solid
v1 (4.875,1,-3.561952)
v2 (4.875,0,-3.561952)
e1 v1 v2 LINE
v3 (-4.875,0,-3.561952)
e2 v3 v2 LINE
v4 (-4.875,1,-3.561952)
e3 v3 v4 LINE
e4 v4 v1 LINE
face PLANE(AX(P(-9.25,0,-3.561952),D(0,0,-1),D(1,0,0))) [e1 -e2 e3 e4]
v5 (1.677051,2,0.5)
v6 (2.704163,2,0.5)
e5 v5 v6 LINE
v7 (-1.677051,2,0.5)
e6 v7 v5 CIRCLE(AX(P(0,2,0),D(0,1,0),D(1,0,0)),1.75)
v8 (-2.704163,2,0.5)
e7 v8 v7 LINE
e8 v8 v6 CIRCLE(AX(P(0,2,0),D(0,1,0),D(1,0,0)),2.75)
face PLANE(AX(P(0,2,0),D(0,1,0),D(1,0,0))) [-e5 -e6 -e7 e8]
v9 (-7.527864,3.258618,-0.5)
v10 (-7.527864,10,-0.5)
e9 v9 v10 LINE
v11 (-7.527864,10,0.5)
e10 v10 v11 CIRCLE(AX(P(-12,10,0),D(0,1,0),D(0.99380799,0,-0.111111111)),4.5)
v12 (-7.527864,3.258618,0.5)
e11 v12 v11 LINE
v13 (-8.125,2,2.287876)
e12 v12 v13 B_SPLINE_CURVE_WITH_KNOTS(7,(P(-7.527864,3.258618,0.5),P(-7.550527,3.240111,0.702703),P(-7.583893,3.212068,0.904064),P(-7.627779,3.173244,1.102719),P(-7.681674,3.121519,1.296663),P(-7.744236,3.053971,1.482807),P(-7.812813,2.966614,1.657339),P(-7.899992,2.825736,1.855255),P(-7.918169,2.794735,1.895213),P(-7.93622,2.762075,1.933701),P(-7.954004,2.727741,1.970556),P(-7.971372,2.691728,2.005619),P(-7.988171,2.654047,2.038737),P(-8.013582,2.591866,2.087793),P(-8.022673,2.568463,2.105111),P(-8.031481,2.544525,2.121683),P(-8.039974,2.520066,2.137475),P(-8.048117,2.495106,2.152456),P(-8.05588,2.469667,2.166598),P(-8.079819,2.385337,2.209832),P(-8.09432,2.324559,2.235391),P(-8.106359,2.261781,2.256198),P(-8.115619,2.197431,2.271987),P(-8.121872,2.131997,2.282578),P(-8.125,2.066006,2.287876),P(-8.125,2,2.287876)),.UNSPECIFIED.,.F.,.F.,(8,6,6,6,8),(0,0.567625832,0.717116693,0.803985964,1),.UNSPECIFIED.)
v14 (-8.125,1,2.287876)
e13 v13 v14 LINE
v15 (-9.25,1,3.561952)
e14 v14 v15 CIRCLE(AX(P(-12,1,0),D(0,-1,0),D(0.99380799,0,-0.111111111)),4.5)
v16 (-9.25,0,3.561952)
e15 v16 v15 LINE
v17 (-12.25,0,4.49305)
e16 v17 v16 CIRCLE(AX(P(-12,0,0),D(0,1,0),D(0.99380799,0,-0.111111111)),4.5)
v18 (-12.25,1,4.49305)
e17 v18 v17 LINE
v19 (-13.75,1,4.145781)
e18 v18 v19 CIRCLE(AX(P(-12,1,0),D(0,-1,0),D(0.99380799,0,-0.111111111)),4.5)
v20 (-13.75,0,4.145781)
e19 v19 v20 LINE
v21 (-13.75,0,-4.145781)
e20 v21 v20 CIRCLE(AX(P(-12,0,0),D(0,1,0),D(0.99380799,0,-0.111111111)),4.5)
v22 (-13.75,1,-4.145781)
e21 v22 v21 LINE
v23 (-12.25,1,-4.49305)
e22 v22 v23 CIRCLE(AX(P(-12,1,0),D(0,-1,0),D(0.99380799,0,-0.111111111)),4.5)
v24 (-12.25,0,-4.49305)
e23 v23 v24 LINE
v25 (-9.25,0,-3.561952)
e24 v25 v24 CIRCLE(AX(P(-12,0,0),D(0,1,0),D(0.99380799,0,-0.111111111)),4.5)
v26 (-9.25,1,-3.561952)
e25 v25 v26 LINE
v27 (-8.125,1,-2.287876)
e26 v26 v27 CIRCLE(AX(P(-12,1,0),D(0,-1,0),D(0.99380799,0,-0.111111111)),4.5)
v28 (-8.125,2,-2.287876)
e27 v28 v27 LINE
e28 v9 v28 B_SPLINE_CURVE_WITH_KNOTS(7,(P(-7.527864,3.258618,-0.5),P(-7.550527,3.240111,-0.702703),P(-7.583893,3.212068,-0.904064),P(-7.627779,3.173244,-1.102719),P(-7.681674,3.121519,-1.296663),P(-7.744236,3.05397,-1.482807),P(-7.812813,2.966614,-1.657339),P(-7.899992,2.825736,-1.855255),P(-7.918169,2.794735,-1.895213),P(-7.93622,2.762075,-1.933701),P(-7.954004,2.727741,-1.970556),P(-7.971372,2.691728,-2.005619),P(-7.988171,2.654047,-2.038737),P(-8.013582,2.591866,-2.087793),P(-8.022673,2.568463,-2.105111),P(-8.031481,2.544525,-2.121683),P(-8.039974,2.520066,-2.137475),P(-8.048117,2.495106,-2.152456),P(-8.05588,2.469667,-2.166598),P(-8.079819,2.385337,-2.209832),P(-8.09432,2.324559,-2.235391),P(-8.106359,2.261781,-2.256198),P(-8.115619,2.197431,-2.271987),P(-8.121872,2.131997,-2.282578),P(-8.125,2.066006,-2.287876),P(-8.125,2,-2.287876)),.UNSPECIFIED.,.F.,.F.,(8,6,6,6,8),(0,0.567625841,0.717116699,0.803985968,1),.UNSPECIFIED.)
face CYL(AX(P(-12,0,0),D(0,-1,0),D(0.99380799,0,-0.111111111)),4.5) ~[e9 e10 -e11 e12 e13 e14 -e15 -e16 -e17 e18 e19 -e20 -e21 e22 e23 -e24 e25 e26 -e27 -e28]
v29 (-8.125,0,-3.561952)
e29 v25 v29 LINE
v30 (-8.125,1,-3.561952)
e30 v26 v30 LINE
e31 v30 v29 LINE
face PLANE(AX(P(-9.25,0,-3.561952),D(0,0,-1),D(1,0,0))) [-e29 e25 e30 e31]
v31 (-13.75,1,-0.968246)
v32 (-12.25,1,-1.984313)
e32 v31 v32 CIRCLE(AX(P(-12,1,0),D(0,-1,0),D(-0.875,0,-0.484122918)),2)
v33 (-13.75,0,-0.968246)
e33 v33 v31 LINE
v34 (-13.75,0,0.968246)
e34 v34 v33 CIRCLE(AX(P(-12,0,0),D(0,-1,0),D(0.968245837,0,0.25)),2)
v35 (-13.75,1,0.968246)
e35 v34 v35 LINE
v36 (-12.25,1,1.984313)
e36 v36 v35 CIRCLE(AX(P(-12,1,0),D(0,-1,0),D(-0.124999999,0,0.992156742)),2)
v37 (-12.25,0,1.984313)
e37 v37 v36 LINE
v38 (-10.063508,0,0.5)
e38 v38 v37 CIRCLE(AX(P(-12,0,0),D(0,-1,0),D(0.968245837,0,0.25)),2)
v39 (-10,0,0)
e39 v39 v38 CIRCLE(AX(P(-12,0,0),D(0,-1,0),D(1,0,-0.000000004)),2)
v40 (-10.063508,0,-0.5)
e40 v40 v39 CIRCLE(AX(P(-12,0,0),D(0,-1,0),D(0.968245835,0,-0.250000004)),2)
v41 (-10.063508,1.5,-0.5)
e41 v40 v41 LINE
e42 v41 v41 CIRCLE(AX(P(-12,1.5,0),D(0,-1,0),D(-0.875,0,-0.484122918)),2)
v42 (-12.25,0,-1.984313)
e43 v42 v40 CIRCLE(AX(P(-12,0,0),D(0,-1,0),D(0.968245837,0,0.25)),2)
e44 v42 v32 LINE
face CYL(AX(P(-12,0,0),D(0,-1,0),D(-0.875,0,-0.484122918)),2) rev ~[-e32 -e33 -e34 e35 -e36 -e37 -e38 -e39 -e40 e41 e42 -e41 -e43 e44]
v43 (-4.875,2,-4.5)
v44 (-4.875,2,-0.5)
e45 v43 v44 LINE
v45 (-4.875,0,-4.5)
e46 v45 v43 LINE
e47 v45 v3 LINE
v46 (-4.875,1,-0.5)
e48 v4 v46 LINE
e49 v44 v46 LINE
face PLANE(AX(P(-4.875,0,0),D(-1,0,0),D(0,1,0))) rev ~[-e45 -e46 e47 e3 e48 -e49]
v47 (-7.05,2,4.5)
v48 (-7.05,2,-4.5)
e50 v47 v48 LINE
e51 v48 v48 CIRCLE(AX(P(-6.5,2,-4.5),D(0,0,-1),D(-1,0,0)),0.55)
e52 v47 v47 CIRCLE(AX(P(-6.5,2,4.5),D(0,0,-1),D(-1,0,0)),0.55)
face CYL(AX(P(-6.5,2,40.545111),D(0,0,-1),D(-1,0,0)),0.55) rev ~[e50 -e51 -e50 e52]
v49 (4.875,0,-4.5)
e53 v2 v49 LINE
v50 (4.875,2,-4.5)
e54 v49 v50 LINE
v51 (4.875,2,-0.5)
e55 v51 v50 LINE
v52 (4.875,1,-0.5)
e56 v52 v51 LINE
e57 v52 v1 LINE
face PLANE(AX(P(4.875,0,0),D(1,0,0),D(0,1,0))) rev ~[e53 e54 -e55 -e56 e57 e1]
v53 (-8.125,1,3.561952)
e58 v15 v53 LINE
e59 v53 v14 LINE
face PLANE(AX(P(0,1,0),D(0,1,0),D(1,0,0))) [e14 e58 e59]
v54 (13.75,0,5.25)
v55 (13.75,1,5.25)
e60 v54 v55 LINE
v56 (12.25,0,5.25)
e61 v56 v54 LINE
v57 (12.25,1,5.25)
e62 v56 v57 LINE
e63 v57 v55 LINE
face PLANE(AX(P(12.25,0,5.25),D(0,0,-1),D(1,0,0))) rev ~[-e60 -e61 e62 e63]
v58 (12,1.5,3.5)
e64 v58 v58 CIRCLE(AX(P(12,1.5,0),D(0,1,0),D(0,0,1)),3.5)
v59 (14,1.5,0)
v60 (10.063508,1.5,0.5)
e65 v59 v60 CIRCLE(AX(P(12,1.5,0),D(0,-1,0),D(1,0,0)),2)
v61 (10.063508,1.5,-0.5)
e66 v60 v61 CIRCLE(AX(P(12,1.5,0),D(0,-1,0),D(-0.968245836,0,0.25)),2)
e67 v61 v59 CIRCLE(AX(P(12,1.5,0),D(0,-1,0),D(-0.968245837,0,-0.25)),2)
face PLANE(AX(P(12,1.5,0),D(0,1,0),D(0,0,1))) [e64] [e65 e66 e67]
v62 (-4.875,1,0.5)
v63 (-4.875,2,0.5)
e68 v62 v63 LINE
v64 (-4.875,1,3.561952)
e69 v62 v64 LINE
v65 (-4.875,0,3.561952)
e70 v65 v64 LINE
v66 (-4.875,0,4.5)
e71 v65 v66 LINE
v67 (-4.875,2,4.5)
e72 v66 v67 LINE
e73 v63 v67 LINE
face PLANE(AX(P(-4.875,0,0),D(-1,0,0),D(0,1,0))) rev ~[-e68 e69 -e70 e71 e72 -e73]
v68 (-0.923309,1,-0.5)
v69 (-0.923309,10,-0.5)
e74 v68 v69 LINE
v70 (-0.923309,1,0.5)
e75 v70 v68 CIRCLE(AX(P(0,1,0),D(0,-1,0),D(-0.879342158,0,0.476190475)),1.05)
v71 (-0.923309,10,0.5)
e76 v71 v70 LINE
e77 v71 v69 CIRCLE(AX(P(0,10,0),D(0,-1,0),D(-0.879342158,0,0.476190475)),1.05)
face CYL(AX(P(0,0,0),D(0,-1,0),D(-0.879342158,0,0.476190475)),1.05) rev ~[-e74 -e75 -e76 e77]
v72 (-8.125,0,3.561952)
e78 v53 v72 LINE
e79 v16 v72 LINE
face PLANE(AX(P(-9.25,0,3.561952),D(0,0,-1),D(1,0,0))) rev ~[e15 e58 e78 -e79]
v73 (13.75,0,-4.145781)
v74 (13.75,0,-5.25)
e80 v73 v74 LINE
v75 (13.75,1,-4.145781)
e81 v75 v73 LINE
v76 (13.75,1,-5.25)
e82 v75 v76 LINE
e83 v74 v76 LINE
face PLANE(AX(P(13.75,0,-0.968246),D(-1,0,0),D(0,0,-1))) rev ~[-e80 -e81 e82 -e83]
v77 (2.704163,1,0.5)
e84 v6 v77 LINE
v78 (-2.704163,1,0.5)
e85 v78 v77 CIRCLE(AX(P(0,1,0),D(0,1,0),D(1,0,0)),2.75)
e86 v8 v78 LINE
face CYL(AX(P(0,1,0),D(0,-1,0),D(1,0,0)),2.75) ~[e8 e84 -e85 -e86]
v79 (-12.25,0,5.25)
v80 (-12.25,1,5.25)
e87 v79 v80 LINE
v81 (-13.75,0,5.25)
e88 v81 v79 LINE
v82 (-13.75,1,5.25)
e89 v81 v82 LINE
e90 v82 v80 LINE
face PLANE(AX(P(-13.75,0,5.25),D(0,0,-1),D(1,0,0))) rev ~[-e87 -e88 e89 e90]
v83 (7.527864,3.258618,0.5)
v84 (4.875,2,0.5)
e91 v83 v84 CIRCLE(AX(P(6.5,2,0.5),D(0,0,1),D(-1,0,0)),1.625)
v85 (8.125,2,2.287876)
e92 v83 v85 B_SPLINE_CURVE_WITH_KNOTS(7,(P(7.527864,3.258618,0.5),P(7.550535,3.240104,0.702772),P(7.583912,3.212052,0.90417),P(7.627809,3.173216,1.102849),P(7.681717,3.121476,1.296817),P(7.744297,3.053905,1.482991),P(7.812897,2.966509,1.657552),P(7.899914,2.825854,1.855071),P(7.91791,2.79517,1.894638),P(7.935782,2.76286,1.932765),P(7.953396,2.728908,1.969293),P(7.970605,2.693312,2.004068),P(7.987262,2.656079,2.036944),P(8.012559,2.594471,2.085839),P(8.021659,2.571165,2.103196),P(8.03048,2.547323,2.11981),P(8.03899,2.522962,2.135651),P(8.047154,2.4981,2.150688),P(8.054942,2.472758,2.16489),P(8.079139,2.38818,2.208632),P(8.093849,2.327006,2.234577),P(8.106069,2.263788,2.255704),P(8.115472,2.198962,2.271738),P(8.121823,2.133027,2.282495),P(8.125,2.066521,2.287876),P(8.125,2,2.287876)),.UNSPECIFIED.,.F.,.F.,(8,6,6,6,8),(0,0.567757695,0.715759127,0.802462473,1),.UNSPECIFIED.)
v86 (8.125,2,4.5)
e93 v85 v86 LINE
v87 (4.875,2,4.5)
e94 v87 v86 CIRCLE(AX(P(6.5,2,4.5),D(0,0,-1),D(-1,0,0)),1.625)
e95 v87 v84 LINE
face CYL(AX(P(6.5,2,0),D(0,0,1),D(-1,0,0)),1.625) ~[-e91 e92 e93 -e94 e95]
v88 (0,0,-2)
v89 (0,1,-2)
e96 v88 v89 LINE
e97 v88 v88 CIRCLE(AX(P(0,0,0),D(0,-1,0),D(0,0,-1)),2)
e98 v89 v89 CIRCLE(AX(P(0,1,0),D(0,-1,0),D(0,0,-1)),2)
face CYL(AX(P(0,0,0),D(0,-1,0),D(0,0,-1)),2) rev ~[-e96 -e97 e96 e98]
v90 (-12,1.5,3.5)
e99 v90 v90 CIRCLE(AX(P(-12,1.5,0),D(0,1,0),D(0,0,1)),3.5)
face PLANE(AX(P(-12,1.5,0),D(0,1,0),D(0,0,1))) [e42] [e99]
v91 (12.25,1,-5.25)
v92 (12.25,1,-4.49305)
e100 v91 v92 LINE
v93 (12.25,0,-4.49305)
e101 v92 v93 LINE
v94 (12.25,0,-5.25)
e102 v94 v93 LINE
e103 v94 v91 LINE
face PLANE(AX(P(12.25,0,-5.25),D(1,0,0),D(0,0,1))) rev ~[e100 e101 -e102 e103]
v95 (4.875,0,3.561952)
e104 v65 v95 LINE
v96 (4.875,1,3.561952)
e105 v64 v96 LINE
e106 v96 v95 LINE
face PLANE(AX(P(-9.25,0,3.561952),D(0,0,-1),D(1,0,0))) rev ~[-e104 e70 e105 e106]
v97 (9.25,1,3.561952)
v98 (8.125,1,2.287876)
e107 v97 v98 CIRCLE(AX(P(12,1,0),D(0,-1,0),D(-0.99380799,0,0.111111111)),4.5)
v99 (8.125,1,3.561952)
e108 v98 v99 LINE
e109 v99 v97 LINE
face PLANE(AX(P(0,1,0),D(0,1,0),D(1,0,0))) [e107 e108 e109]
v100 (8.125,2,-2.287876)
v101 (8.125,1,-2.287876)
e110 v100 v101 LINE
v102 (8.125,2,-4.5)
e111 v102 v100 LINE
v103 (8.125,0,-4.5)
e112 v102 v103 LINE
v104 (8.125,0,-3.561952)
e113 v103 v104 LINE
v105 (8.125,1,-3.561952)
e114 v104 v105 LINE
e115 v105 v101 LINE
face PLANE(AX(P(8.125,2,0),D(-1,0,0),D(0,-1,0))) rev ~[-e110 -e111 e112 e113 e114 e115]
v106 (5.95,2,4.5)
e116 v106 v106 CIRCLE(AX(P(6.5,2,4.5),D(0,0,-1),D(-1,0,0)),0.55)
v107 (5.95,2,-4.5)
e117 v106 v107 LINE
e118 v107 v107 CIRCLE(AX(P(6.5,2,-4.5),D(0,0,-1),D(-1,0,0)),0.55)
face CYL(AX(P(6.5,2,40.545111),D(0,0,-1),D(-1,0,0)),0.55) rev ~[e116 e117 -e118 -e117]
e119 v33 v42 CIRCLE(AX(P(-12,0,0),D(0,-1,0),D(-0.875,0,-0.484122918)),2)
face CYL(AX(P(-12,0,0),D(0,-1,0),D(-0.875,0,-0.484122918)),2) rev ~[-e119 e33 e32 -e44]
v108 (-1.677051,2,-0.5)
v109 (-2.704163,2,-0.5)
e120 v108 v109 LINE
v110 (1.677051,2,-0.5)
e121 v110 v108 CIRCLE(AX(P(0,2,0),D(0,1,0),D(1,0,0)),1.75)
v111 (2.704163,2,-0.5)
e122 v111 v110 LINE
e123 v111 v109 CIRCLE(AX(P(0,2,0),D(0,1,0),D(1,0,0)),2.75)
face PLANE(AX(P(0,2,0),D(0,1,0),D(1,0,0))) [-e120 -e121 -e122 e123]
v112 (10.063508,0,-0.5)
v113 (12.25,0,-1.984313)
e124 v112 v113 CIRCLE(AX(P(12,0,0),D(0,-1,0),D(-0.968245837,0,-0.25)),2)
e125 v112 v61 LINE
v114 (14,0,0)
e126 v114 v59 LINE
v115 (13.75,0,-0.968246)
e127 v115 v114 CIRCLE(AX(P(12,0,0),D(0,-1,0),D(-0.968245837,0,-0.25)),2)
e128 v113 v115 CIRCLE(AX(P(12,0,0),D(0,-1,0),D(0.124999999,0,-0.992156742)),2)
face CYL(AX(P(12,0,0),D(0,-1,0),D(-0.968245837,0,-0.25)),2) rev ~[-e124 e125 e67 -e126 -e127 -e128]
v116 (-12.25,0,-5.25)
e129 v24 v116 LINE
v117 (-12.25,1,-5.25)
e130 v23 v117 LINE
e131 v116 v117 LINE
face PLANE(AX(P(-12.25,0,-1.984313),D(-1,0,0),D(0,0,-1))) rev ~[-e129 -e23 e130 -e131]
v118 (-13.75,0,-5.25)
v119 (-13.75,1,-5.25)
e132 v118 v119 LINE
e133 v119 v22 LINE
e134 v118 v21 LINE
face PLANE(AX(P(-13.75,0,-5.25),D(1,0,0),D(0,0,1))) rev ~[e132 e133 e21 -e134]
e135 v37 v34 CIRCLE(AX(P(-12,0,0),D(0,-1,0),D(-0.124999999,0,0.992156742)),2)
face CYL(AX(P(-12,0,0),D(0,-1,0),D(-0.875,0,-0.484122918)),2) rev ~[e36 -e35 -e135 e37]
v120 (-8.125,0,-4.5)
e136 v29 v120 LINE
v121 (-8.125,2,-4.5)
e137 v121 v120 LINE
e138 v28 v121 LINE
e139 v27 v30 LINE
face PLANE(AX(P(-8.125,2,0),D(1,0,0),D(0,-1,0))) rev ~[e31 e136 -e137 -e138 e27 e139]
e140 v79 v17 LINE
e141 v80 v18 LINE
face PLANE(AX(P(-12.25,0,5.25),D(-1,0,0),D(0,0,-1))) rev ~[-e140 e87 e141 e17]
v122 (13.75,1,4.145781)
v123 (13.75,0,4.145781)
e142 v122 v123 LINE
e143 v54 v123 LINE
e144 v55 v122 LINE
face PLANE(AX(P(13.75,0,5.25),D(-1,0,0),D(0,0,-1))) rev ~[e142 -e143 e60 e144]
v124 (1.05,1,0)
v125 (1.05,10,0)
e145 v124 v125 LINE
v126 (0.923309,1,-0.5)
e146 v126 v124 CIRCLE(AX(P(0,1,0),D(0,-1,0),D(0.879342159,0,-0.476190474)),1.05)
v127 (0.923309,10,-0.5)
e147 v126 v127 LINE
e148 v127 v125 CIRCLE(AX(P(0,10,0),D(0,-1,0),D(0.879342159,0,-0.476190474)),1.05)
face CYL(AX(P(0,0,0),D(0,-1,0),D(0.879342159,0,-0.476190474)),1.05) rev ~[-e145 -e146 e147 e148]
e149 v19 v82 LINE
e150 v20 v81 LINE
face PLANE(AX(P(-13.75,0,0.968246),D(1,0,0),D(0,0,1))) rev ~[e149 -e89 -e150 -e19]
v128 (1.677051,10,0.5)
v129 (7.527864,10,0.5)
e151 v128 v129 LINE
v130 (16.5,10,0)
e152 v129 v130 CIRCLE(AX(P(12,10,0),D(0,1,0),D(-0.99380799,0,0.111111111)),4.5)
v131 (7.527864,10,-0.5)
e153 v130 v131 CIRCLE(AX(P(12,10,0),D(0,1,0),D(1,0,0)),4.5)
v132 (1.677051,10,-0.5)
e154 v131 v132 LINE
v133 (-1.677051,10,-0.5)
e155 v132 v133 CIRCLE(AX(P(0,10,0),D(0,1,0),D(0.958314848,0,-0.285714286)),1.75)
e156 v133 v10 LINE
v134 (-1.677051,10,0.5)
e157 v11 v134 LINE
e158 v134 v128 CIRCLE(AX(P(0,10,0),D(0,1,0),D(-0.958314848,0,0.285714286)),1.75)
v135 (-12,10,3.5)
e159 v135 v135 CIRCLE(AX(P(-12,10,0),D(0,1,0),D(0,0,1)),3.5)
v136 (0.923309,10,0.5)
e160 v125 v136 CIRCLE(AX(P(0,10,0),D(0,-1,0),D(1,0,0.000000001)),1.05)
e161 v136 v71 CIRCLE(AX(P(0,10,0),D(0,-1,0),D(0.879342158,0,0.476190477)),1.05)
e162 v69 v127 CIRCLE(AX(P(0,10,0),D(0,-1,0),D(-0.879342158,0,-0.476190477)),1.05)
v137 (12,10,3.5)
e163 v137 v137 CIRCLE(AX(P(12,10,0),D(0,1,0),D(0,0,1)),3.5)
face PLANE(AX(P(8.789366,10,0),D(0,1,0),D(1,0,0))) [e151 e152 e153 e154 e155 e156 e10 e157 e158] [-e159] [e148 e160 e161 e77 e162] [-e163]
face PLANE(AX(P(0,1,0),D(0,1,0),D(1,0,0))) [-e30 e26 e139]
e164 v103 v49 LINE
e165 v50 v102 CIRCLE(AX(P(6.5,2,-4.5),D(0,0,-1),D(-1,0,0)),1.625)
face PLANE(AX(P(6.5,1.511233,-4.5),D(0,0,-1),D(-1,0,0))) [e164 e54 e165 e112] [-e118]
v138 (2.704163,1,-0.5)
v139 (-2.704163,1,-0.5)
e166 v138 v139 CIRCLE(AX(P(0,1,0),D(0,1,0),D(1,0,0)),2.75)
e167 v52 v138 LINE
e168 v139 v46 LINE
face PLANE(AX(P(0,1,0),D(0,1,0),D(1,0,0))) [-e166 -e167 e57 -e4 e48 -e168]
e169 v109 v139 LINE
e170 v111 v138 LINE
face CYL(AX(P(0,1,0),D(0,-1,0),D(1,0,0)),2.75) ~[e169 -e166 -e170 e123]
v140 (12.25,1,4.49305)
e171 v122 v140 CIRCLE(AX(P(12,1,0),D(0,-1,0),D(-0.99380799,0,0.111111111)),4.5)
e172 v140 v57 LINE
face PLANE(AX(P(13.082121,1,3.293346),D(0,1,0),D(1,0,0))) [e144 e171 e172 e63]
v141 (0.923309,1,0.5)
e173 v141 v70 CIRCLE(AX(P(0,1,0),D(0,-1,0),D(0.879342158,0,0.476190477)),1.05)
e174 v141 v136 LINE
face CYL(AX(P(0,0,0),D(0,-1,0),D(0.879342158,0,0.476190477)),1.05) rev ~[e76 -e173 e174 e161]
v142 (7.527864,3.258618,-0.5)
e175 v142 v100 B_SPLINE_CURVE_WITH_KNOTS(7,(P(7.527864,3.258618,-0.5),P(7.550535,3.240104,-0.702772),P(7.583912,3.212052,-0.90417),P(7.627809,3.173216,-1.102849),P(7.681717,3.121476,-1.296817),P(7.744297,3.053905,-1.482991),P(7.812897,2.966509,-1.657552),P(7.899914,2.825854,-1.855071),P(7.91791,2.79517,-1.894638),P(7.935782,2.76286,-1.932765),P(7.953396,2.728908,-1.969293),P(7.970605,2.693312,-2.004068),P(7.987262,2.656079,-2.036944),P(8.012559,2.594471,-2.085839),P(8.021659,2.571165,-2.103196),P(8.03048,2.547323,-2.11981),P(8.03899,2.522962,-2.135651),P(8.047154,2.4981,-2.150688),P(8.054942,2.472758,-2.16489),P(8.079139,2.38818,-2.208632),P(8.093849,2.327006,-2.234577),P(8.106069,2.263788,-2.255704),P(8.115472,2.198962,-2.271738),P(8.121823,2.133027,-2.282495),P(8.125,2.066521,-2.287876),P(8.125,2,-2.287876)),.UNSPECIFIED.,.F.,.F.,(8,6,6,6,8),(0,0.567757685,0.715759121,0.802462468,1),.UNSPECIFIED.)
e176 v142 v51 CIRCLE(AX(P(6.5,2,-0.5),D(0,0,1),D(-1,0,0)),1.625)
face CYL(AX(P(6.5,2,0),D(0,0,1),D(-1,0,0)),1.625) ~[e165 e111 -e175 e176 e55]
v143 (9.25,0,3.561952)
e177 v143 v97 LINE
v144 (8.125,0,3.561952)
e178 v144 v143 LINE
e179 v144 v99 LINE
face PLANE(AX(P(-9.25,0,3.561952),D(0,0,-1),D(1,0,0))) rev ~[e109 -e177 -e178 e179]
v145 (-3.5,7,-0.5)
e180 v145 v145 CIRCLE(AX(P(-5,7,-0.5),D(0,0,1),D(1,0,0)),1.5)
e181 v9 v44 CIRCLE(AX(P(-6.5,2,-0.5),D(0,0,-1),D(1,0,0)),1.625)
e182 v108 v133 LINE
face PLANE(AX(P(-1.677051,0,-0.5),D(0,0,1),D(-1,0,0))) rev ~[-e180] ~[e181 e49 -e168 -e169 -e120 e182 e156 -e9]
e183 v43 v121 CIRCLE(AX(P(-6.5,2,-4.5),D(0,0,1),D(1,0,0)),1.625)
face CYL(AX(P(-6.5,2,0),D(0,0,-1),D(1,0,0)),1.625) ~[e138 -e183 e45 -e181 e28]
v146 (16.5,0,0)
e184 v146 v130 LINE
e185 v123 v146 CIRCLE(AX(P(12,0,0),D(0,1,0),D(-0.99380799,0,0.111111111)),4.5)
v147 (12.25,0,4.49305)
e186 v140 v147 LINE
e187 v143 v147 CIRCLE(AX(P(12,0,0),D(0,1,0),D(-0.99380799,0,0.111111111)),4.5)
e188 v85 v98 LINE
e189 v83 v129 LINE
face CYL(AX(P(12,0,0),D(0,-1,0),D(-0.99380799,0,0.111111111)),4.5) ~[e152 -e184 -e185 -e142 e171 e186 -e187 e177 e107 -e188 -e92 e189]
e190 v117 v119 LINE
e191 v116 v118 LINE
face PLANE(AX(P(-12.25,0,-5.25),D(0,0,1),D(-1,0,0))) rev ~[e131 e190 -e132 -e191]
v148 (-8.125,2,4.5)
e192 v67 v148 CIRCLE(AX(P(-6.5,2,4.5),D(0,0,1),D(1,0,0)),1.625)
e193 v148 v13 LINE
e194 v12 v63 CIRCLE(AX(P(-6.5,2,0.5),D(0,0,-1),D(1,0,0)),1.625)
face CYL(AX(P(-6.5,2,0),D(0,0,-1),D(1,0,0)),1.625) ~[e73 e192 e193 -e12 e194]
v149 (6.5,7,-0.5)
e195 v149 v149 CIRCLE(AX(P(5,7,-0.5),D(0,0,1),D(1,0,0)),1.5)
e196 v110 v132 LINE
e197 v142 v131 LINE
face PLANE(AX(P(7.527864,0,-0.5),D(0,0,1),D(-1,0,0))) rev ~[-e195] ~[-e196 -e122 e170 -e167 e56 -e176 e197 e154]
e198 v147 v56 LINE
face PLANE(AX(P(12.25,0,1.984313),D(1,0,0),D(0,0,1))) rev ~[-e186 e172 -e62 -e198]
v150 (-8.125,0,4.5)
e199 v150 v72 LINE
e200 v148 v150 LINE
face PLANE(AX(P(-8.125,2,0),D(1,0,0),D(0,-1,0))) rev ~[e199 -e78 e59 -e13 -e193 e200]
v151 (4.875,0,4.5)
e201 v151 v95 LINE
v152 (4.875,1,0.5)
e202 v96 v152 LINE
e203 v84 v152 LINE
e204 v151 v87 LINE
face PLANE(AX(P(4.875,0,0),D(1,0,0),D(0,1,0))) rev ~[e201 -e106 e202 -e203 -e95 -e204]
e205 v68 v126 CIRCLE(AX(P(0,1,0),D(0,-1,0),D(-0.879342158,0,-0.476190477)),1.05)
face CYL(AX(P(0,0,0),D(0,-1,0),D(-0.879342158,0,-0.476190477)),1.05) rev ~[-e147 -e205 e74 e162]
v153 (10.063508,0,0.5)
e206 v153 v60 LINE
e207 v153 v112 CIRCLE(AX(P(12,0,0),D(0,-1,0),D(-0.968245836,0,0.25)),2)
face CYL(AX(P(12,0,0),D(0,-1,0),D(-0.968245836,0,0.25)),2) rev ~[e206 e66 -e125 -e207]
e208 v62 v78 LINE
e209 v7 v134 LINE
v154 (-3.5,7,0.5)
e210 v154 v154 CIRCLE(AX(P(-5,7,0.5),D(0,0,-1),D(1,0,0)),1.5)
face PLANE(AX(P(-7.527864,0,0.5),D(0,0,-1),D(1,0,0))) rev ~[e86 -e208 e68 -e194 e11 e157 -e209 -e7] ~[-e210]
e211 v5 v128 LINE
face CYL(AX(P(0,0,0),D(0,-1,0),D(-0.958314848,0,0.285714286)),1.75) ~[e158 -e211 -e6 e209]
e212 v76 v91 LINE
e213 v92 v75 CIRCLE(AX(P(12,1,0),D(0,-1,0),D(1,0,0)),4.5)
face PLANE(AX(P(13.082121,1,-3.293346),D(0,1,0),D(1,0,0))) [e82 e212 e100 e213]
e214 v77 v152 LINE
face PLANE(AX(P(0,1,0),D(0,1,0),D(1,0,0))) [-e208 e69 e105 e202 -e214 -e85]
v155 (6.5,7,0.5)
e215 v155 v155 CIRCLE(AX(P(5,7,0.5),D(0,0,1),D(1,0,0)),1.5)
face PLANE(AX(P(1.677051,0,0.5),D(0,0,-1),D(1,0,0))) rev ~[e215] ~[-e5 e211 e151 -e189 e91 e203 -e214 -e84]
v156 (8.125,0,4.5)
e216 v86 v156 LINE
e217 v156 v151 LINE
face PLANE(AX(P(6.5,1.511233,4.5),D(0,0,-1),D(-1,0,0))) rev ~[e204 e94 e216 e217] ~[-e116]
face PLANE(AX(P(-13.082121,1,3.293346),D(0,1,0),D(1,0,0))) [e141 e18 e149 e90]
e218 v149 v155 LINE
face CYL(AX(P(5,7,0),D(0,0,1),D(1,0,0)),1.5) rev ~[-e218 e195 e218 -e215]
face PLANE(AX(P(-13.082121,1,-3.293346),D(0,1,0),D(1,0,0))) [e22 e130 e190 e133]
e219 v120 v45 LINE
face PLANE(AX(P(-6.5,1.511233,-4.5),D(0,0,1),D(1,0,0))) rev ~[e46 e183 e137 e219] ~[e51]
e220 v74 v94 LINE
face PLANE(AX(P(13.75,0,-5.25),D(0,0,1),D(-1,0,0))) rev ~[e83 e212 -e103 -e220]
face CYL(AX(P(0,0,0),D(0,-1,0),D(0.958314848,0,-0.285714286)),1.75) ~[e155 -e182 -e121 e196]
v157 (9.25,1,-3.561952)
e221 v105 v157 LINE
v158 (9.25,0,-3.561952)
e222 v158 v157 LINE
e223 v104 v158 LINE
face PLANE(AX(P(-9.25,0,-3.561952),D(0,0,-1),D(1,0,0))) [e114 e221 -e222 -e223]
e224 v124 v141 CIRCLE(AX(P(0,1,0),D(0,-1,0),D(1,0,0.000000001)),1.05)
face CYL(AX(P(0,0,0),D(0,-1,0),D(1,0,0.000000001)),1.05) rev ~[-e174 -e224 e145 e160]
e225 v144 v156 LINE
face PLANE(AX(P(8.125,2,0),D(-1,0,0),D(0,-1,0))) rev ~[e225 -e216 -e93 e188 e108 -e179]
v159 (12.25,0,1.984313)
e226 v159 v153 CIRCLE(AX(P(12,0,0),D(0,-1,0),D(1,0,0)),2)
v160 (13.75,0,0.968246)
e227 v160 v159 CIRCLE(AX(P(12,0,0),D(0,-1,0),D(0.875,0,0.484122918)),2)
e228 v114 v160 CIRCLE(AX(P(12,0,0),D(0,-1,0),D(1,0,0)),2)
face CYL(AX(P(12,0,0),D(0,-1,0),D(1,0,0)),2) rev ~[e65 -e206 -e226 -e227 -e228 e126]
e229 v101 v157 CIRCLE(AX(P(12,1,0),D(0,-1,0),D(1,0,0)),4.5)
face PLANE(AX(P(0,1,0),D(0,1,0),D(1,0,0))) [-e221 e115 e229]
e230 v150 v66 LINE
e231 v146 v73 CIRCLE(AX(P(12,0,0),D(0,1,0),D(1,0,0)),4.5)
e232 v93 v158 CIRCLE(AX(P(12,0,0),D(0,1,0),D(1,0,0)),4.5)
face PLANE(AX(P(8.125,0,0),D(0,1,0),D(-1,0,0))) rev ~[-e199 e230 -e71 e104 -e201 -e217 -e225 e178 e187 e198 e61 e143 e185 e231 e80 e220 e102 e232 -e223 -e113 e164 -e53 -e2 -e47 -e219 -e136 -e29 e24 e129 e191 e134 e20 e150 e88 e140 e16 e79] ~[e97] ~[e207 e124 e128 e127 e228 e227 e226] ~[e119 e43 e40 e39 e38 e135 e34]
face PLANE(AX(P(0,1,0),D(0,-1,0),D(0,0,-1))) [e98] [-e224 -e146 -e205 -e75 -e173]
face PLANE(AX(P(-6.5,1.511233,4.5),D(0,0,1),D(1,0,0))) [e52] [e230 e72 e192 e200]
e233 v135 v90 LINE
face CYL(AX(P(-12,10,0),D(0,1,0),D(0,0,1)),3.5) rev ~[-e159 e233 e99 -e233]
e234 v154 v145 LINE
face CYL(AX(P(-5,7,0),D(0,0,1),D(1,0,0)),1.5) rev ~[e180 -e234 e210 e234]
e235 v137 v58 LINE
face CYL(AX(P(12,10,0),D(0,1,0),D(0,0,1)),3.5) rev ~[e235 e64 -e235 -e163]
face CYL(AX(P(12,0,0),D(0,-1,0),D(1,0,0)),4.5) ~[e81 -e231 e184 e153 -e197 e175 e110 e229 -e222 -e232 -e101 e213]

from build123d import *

# Parameters (mm, degrees)
BOSS_EXTRUDE1_DEPTH     = 10
SKETCH2_W               = 18.5
SKETCH2_H               = 7.123903424
SKETCH2_R               = 1.05
BOSS_EXTRUDE2_DEPTH     = 1
SKETCH3_R               = 3.5
CUT_EXTRUDE1_DEPTH      = 8.5
BOSS_EXTRUDE3_DEPTH     = 4.5
SKETCH5_R               = 1.5
CUT_EXTRUDE2_DEPTH      = 4.5
M1_4X0_3_TAPPED_HOLE1_D = 1.1
SKETCH7_R               = 2.75
SKETCH7_R_2             = 1.75
BOSS_EXTRUDE4_DEPTH     = 1
SKETCH8_R               = 2
CUT_EXTRUDE3_DEPTH      = 1


with BuildPart() as part:
    # Sketch1 → Boss-Extrude1 (new body)
    with BuildSketch(Plane(origin=(0, 0, 0), x_dir=(1, 0, 0), z_dir=(0, 1, 0))):
        with BuildLine():
            ThreePointArc((10.063508327, -0.5), (10, 0), (10.063508327, 0.5))
            Line((10.063508327, 0.5), (7.527864045, 0.5))
            ThreePointArc((7.527864045, 0.5), (7.5, 0), (7.527864045, -0.5))
            Line((7.527864045, -0.5), (10.063508327, -0.5))
        make_face()
        with BuildLine():
            Line((7.527864045, 0.5), (10.063508327, 0.5))
            ThreePointArc((10.063508327, 0.5), (12.252008585, 1.984059393), (14, 0))
            ThreePointArc((14, 0), (12.252008585, -1.984059393), (10.063508327, -0.5))
            Line((10.063508327, -0.5), (7.527864045, -0.5))
            ThreePointArc((7.527864045, -0.5), (12.250387902, -4.493028589), (16.5, 0))
            ThreePointArc((16.5, 0), (12.250387902, 4.493028589), (7.527864045, 0.5))
        make_face()
        with BuildLine():
            ThreePointArc((-7.5, 0), (-7.506971411, 0.250387902), (-7.527864045, 0.5))
            Line((-7.527864045, 0.5), (-10.063508327, 0.5))
            ThreePointArc((-10.063508327, 0.5), (-10.015940607, 0.252008585), (-10, 0))
            ThreePointArc((-10, 0), (-10.015940607, -0.252008585), (-10.063508327, -0.5))
            Line((-10.063508327, -0.5), (-7.527864045, -0.5))
            ThreePointArc((-7.527864045, -0.5), (-7.506971411, -0.250387902), (-7.5, 0))
        make_face()
        with BuildLine():
            Line((-10.063508327, 0.5), (-7.527864045, 0.5))
            ThreePointArc((-7.527864045, 0.5), (-16.5, 0), (-7.527864045, -0.5))
            Line((-7.527864045, -0.5), (-10.063508327, -0.5))
            ThreePointArc((-10.063508327, -0.5), (-14, 0), (-10.063508327, 0.5))
        make_face()
        with BuildLine():
            ThreePointArc((7.527864045, -0.5), (7.5, 0), (7.527864045, 0.5))
            Line((7.527864045, 0.5), (1.677050983, 0.5))
            ThreePointArc((1.677050983, 0.5), (1.731666715, 0.252646769), (1.75, 0))
            ThreePointArc((1.75, 0), (1.731666715, -0.252646769), (1.677050983, -0.5))
            Line((1.677050983, -0.5), (7.527864045, -0.5))
        make_face()
        with BuildLine():
            ThreePointArc((-1.677050983, -0.5), (-1.75, 0), (-1.677050983, 0.5))
            Line((-1.677050983, 0.5), (-7.527864045, 0.5))
            ThreePointArc((-7.527864045, 0.5), (-7.506971411, 0.250387902), (-7.5, 0))
            ThreePointArc((-7.5, 0), (-7.506971411, -0.250387902), (-7.527864045, -0.5))
            Line((-7.527864045, -0.5), (-1.677050983, -0.5))
        make_face()
        with BuildLine():
            ThreePointArc((1.75, 0), (1.731666715, 0.252646769), (1.677050983, 0.5))
            Line((1.677050983, 0.5), (0.923309266, 0.5))
            ThreePointArc((0.923309266, 0.5), (1.017834645, 0.257900437), (1.05, 0))
            ThreePointArc((1.05, 0), (1.017834645, -0.257900437), (0.923309266, -0.5))
            Line((0.923309266, -0.5), (1.677050983, -0.5))
            ThreePointArc((1.677050983, -0.5), (1.731666715, -0.252646769), (1.75, 0))
        make_face()
        with BuildLine():
            Line((-0.923309266, 0.5), (-1.677050983, 0.5))
            ThreePointArc((-1.677050983, 0.5), (-1.75, 0), (-1.677050983, -0.5))
            Line((-1.677050983, -0.5), (-0.923309266, -0.5))
            ThreePointArc((-0.923309266, -0.5), (-1.05, 0), (-0.923309266, 0.5))
        make_face()
        with BuildLine():
            Line((0.923309266, 0.5), (1.677050983, 0.5))
            ThreePointArc((1.677050983, 0.5), (0, 1.75), (-1.677050983, 0.5))
            Line((-1.677050983, 0.5), (-0.923309266, 0.5))
            ThreePointArc((-0.923309266, 0.5), (0, 1.05), (0.923309266, 0.5))
        make_face()
        with BuildLine():
            ThreePointArc((-1.677050983, -0.5), (0, -1.75), (1.677050983, -0.5))
            Line((1.677050983, -0.5), (0.923309266, -0.5))
            ThreePointArc((0.923309266, -0.5), (0, -1.05), (-0.923309266, -0.5))
            Line((-0.923309266, -0.5), (-1.677050983, -0.5))
        make_face()
    extrude(amount=BOSS_EXTRUDE1_DEPTH)

    # Sketch2 → Boss-Extrude2 (add)
    # profile 1 of 5: a face of its own
    with BuildSketch(Plane(origin=(0, 0, 0), x_dir=(1, 0, 0), z_dir=(0, 1, 0))):
        with BuildLine():
            Line((-12.25, 5.25), (-13.75, 5.25))
            Line((-13.75, 5.25), (-13.75, 0.968245837))
            ThreePointArc((-13.75, 0.968245837), (-13.121649841, 1.655868846), (-12.25, 1.984313483))
            Line((-12.25, 1.984313483), (-12.25, 5.25))
        make_face()
    # profile 2 of 5: a face of its own
    with BuildSketch(Plane(origin=(0, 0, 0), x_dir=(1, 0, 0), z_dir=(0, 1, 0))):
        with BuildLine():
            ThreePointArc((-12.25, -1.984313483), (-13.121649841, -1.655868846), (-13.75, -0.968245837))
            Line((-13.75, -0.968245837), (-13.75, -5.25))
            Line((-13.75, -5.25), (-12.25, -5.25))
            Line((-12.25, -5.25), (-12.25, -1.984313483))
        make_face()
    # profile 3 of 5: a face of its own
    with BuildSketch(Plane(origin=(0, 0, 0), x_dir=(1, 0, 0), z_dir=(0, 1, 0))):
        with BuildLine():
            Line((13.75, 5.25), (12.25, 5.25))
            Line((12.25, 5.25), (12.25, 1.984313483))
            ThreePointArc((12.25, 1.984313483), (13.121649841, 1.655868846), (13.75, 0.968245837))
            Line((13.75, 0.968245837), (13.75, 5.25))
        make_face()
    # profile 4 of 5: a face of its own
    with BuildSketch(Plane(origin=(0, 0, 0), x_dir=(1, 0, 0), z_dir=(0, 1, 0))):
        with BuildLine():
            ThreePointArc((13.75, -0.968245837), (13.121649841, -1.655868846), (12.25, -1.984313483))
            Line((12.25, -1.984313483), (12.25, -5.25))
            Line((12.25, -5.25), (13.75, -5.25))
            Line((13.75, -5.25), (13.75, -0.968245837))
        make_face()
    # profile 5 of 5: a face of its own
    with BuildSketch(Plane(origin=(0, 0, 0), x_dir=(1, 0, 0), z_dir=(0, 1, 0))):
        Rectangle(SKETCH2_W, SKETCH2_H)
        with Locations(Location((0, 0, 0), (0, 0, 270))):
            Circle(SKETCH2_R, mode=Mode.SUBTRACT)
    extrude(amount=BOSS_EXTRUDE2_DEPTH)

    # Sketch3 → Cut-Extrude1 (cut)
    with BuildSketch(Plane(origin=(0, 10, 0), x_dir=(1, 0, 0), z_dir=(0, 1, 0))):
        with Locations(Location((-12, 0, 0), (0, 0, 270))):
            Circle(SKETCH3_R)
        with Locations(Location((12, 0, 0), (0, 0, 270))):
            Circle(SKETCH3_R)
    extrude(amount=-CUT_EXTRUDE1_DEPTH, mode=Mode.SUBTRACT)

    # Sketch4 → Boss-Extrude3 (add, symmetric)
    with BuildSketch(Plane.XY):
        with BuildLine():
            Line((-8.125, 0), (-4.875, 0))
            Line((-4.875, 0), (-4.875, 2))
            ThreePointArc((-4.875, 2), (-6.5, 3.625), (-8.125, 2))
            Line((-8.125, 2), (-8.125, 0))
        make_face()
        with BuildLine():
            Line((8.125, 0), (4.875, 0))
            Line((4.875, 0), (4.875, 2))
            ThreePointArc((4.875, 2), (6.5, 3.625), (8.125, 2))
            Line((8.125, 2), (8.125, 0))
        make_face()
    extrude(amount=BOSS_EXTRUDE3_DEPTH, both=True)

    # Sketch5 → Cut-Extrude2 (cut, symmetric)
    with BuildSketch(Plane.XY):
        with Locations((-5, 7)):
            Circle(SKETCH5_R)
        with Locations((5, 7)):
            Circle(SKETCH5_R)
    extrude(amount=CUT_EXTRUDE2_DEPTH, both=True, mode=Mode.SUBTRACT)

    # M1.4x0.3 Tapped Hole1 (through all)
    with Locations(Plane(origin=(-6.5, 2, 4.5), x_dir=(1, 0, 0), z_dir=(0, 0, 1))):
        with Locations((0, 0), (13, 0)):
            Hole(M1_4X0_3_TAPPED_HOLE1_D / 2)

    # Sketch7 → Boss-Extrude4 (add)
    with BuildSketch(Plane(origin=(0, 1, 0), x_dir=(1, 0, 0), z_dir=(0, 1, 0))):
        Circle(SKETCH7_R)
        Circle(SKETCH7_R_2, mode=Mode.SUBTRACT)
    extrude(amount=BOSS_EXTRUDE4_DEPTH)

    # Sketch8 → Cut-Extrude3 (cut)
    with BuildSketch(Plane.XZ):
        with Locations(Location((0, 0, 0), (0, 0, 270))):
            Circle(SKETCH8_R)
    extrude(amount=-CUT_EXTRUDE3_DEPTH, mode=Mode.SUBTRACT)


solid = part.part
